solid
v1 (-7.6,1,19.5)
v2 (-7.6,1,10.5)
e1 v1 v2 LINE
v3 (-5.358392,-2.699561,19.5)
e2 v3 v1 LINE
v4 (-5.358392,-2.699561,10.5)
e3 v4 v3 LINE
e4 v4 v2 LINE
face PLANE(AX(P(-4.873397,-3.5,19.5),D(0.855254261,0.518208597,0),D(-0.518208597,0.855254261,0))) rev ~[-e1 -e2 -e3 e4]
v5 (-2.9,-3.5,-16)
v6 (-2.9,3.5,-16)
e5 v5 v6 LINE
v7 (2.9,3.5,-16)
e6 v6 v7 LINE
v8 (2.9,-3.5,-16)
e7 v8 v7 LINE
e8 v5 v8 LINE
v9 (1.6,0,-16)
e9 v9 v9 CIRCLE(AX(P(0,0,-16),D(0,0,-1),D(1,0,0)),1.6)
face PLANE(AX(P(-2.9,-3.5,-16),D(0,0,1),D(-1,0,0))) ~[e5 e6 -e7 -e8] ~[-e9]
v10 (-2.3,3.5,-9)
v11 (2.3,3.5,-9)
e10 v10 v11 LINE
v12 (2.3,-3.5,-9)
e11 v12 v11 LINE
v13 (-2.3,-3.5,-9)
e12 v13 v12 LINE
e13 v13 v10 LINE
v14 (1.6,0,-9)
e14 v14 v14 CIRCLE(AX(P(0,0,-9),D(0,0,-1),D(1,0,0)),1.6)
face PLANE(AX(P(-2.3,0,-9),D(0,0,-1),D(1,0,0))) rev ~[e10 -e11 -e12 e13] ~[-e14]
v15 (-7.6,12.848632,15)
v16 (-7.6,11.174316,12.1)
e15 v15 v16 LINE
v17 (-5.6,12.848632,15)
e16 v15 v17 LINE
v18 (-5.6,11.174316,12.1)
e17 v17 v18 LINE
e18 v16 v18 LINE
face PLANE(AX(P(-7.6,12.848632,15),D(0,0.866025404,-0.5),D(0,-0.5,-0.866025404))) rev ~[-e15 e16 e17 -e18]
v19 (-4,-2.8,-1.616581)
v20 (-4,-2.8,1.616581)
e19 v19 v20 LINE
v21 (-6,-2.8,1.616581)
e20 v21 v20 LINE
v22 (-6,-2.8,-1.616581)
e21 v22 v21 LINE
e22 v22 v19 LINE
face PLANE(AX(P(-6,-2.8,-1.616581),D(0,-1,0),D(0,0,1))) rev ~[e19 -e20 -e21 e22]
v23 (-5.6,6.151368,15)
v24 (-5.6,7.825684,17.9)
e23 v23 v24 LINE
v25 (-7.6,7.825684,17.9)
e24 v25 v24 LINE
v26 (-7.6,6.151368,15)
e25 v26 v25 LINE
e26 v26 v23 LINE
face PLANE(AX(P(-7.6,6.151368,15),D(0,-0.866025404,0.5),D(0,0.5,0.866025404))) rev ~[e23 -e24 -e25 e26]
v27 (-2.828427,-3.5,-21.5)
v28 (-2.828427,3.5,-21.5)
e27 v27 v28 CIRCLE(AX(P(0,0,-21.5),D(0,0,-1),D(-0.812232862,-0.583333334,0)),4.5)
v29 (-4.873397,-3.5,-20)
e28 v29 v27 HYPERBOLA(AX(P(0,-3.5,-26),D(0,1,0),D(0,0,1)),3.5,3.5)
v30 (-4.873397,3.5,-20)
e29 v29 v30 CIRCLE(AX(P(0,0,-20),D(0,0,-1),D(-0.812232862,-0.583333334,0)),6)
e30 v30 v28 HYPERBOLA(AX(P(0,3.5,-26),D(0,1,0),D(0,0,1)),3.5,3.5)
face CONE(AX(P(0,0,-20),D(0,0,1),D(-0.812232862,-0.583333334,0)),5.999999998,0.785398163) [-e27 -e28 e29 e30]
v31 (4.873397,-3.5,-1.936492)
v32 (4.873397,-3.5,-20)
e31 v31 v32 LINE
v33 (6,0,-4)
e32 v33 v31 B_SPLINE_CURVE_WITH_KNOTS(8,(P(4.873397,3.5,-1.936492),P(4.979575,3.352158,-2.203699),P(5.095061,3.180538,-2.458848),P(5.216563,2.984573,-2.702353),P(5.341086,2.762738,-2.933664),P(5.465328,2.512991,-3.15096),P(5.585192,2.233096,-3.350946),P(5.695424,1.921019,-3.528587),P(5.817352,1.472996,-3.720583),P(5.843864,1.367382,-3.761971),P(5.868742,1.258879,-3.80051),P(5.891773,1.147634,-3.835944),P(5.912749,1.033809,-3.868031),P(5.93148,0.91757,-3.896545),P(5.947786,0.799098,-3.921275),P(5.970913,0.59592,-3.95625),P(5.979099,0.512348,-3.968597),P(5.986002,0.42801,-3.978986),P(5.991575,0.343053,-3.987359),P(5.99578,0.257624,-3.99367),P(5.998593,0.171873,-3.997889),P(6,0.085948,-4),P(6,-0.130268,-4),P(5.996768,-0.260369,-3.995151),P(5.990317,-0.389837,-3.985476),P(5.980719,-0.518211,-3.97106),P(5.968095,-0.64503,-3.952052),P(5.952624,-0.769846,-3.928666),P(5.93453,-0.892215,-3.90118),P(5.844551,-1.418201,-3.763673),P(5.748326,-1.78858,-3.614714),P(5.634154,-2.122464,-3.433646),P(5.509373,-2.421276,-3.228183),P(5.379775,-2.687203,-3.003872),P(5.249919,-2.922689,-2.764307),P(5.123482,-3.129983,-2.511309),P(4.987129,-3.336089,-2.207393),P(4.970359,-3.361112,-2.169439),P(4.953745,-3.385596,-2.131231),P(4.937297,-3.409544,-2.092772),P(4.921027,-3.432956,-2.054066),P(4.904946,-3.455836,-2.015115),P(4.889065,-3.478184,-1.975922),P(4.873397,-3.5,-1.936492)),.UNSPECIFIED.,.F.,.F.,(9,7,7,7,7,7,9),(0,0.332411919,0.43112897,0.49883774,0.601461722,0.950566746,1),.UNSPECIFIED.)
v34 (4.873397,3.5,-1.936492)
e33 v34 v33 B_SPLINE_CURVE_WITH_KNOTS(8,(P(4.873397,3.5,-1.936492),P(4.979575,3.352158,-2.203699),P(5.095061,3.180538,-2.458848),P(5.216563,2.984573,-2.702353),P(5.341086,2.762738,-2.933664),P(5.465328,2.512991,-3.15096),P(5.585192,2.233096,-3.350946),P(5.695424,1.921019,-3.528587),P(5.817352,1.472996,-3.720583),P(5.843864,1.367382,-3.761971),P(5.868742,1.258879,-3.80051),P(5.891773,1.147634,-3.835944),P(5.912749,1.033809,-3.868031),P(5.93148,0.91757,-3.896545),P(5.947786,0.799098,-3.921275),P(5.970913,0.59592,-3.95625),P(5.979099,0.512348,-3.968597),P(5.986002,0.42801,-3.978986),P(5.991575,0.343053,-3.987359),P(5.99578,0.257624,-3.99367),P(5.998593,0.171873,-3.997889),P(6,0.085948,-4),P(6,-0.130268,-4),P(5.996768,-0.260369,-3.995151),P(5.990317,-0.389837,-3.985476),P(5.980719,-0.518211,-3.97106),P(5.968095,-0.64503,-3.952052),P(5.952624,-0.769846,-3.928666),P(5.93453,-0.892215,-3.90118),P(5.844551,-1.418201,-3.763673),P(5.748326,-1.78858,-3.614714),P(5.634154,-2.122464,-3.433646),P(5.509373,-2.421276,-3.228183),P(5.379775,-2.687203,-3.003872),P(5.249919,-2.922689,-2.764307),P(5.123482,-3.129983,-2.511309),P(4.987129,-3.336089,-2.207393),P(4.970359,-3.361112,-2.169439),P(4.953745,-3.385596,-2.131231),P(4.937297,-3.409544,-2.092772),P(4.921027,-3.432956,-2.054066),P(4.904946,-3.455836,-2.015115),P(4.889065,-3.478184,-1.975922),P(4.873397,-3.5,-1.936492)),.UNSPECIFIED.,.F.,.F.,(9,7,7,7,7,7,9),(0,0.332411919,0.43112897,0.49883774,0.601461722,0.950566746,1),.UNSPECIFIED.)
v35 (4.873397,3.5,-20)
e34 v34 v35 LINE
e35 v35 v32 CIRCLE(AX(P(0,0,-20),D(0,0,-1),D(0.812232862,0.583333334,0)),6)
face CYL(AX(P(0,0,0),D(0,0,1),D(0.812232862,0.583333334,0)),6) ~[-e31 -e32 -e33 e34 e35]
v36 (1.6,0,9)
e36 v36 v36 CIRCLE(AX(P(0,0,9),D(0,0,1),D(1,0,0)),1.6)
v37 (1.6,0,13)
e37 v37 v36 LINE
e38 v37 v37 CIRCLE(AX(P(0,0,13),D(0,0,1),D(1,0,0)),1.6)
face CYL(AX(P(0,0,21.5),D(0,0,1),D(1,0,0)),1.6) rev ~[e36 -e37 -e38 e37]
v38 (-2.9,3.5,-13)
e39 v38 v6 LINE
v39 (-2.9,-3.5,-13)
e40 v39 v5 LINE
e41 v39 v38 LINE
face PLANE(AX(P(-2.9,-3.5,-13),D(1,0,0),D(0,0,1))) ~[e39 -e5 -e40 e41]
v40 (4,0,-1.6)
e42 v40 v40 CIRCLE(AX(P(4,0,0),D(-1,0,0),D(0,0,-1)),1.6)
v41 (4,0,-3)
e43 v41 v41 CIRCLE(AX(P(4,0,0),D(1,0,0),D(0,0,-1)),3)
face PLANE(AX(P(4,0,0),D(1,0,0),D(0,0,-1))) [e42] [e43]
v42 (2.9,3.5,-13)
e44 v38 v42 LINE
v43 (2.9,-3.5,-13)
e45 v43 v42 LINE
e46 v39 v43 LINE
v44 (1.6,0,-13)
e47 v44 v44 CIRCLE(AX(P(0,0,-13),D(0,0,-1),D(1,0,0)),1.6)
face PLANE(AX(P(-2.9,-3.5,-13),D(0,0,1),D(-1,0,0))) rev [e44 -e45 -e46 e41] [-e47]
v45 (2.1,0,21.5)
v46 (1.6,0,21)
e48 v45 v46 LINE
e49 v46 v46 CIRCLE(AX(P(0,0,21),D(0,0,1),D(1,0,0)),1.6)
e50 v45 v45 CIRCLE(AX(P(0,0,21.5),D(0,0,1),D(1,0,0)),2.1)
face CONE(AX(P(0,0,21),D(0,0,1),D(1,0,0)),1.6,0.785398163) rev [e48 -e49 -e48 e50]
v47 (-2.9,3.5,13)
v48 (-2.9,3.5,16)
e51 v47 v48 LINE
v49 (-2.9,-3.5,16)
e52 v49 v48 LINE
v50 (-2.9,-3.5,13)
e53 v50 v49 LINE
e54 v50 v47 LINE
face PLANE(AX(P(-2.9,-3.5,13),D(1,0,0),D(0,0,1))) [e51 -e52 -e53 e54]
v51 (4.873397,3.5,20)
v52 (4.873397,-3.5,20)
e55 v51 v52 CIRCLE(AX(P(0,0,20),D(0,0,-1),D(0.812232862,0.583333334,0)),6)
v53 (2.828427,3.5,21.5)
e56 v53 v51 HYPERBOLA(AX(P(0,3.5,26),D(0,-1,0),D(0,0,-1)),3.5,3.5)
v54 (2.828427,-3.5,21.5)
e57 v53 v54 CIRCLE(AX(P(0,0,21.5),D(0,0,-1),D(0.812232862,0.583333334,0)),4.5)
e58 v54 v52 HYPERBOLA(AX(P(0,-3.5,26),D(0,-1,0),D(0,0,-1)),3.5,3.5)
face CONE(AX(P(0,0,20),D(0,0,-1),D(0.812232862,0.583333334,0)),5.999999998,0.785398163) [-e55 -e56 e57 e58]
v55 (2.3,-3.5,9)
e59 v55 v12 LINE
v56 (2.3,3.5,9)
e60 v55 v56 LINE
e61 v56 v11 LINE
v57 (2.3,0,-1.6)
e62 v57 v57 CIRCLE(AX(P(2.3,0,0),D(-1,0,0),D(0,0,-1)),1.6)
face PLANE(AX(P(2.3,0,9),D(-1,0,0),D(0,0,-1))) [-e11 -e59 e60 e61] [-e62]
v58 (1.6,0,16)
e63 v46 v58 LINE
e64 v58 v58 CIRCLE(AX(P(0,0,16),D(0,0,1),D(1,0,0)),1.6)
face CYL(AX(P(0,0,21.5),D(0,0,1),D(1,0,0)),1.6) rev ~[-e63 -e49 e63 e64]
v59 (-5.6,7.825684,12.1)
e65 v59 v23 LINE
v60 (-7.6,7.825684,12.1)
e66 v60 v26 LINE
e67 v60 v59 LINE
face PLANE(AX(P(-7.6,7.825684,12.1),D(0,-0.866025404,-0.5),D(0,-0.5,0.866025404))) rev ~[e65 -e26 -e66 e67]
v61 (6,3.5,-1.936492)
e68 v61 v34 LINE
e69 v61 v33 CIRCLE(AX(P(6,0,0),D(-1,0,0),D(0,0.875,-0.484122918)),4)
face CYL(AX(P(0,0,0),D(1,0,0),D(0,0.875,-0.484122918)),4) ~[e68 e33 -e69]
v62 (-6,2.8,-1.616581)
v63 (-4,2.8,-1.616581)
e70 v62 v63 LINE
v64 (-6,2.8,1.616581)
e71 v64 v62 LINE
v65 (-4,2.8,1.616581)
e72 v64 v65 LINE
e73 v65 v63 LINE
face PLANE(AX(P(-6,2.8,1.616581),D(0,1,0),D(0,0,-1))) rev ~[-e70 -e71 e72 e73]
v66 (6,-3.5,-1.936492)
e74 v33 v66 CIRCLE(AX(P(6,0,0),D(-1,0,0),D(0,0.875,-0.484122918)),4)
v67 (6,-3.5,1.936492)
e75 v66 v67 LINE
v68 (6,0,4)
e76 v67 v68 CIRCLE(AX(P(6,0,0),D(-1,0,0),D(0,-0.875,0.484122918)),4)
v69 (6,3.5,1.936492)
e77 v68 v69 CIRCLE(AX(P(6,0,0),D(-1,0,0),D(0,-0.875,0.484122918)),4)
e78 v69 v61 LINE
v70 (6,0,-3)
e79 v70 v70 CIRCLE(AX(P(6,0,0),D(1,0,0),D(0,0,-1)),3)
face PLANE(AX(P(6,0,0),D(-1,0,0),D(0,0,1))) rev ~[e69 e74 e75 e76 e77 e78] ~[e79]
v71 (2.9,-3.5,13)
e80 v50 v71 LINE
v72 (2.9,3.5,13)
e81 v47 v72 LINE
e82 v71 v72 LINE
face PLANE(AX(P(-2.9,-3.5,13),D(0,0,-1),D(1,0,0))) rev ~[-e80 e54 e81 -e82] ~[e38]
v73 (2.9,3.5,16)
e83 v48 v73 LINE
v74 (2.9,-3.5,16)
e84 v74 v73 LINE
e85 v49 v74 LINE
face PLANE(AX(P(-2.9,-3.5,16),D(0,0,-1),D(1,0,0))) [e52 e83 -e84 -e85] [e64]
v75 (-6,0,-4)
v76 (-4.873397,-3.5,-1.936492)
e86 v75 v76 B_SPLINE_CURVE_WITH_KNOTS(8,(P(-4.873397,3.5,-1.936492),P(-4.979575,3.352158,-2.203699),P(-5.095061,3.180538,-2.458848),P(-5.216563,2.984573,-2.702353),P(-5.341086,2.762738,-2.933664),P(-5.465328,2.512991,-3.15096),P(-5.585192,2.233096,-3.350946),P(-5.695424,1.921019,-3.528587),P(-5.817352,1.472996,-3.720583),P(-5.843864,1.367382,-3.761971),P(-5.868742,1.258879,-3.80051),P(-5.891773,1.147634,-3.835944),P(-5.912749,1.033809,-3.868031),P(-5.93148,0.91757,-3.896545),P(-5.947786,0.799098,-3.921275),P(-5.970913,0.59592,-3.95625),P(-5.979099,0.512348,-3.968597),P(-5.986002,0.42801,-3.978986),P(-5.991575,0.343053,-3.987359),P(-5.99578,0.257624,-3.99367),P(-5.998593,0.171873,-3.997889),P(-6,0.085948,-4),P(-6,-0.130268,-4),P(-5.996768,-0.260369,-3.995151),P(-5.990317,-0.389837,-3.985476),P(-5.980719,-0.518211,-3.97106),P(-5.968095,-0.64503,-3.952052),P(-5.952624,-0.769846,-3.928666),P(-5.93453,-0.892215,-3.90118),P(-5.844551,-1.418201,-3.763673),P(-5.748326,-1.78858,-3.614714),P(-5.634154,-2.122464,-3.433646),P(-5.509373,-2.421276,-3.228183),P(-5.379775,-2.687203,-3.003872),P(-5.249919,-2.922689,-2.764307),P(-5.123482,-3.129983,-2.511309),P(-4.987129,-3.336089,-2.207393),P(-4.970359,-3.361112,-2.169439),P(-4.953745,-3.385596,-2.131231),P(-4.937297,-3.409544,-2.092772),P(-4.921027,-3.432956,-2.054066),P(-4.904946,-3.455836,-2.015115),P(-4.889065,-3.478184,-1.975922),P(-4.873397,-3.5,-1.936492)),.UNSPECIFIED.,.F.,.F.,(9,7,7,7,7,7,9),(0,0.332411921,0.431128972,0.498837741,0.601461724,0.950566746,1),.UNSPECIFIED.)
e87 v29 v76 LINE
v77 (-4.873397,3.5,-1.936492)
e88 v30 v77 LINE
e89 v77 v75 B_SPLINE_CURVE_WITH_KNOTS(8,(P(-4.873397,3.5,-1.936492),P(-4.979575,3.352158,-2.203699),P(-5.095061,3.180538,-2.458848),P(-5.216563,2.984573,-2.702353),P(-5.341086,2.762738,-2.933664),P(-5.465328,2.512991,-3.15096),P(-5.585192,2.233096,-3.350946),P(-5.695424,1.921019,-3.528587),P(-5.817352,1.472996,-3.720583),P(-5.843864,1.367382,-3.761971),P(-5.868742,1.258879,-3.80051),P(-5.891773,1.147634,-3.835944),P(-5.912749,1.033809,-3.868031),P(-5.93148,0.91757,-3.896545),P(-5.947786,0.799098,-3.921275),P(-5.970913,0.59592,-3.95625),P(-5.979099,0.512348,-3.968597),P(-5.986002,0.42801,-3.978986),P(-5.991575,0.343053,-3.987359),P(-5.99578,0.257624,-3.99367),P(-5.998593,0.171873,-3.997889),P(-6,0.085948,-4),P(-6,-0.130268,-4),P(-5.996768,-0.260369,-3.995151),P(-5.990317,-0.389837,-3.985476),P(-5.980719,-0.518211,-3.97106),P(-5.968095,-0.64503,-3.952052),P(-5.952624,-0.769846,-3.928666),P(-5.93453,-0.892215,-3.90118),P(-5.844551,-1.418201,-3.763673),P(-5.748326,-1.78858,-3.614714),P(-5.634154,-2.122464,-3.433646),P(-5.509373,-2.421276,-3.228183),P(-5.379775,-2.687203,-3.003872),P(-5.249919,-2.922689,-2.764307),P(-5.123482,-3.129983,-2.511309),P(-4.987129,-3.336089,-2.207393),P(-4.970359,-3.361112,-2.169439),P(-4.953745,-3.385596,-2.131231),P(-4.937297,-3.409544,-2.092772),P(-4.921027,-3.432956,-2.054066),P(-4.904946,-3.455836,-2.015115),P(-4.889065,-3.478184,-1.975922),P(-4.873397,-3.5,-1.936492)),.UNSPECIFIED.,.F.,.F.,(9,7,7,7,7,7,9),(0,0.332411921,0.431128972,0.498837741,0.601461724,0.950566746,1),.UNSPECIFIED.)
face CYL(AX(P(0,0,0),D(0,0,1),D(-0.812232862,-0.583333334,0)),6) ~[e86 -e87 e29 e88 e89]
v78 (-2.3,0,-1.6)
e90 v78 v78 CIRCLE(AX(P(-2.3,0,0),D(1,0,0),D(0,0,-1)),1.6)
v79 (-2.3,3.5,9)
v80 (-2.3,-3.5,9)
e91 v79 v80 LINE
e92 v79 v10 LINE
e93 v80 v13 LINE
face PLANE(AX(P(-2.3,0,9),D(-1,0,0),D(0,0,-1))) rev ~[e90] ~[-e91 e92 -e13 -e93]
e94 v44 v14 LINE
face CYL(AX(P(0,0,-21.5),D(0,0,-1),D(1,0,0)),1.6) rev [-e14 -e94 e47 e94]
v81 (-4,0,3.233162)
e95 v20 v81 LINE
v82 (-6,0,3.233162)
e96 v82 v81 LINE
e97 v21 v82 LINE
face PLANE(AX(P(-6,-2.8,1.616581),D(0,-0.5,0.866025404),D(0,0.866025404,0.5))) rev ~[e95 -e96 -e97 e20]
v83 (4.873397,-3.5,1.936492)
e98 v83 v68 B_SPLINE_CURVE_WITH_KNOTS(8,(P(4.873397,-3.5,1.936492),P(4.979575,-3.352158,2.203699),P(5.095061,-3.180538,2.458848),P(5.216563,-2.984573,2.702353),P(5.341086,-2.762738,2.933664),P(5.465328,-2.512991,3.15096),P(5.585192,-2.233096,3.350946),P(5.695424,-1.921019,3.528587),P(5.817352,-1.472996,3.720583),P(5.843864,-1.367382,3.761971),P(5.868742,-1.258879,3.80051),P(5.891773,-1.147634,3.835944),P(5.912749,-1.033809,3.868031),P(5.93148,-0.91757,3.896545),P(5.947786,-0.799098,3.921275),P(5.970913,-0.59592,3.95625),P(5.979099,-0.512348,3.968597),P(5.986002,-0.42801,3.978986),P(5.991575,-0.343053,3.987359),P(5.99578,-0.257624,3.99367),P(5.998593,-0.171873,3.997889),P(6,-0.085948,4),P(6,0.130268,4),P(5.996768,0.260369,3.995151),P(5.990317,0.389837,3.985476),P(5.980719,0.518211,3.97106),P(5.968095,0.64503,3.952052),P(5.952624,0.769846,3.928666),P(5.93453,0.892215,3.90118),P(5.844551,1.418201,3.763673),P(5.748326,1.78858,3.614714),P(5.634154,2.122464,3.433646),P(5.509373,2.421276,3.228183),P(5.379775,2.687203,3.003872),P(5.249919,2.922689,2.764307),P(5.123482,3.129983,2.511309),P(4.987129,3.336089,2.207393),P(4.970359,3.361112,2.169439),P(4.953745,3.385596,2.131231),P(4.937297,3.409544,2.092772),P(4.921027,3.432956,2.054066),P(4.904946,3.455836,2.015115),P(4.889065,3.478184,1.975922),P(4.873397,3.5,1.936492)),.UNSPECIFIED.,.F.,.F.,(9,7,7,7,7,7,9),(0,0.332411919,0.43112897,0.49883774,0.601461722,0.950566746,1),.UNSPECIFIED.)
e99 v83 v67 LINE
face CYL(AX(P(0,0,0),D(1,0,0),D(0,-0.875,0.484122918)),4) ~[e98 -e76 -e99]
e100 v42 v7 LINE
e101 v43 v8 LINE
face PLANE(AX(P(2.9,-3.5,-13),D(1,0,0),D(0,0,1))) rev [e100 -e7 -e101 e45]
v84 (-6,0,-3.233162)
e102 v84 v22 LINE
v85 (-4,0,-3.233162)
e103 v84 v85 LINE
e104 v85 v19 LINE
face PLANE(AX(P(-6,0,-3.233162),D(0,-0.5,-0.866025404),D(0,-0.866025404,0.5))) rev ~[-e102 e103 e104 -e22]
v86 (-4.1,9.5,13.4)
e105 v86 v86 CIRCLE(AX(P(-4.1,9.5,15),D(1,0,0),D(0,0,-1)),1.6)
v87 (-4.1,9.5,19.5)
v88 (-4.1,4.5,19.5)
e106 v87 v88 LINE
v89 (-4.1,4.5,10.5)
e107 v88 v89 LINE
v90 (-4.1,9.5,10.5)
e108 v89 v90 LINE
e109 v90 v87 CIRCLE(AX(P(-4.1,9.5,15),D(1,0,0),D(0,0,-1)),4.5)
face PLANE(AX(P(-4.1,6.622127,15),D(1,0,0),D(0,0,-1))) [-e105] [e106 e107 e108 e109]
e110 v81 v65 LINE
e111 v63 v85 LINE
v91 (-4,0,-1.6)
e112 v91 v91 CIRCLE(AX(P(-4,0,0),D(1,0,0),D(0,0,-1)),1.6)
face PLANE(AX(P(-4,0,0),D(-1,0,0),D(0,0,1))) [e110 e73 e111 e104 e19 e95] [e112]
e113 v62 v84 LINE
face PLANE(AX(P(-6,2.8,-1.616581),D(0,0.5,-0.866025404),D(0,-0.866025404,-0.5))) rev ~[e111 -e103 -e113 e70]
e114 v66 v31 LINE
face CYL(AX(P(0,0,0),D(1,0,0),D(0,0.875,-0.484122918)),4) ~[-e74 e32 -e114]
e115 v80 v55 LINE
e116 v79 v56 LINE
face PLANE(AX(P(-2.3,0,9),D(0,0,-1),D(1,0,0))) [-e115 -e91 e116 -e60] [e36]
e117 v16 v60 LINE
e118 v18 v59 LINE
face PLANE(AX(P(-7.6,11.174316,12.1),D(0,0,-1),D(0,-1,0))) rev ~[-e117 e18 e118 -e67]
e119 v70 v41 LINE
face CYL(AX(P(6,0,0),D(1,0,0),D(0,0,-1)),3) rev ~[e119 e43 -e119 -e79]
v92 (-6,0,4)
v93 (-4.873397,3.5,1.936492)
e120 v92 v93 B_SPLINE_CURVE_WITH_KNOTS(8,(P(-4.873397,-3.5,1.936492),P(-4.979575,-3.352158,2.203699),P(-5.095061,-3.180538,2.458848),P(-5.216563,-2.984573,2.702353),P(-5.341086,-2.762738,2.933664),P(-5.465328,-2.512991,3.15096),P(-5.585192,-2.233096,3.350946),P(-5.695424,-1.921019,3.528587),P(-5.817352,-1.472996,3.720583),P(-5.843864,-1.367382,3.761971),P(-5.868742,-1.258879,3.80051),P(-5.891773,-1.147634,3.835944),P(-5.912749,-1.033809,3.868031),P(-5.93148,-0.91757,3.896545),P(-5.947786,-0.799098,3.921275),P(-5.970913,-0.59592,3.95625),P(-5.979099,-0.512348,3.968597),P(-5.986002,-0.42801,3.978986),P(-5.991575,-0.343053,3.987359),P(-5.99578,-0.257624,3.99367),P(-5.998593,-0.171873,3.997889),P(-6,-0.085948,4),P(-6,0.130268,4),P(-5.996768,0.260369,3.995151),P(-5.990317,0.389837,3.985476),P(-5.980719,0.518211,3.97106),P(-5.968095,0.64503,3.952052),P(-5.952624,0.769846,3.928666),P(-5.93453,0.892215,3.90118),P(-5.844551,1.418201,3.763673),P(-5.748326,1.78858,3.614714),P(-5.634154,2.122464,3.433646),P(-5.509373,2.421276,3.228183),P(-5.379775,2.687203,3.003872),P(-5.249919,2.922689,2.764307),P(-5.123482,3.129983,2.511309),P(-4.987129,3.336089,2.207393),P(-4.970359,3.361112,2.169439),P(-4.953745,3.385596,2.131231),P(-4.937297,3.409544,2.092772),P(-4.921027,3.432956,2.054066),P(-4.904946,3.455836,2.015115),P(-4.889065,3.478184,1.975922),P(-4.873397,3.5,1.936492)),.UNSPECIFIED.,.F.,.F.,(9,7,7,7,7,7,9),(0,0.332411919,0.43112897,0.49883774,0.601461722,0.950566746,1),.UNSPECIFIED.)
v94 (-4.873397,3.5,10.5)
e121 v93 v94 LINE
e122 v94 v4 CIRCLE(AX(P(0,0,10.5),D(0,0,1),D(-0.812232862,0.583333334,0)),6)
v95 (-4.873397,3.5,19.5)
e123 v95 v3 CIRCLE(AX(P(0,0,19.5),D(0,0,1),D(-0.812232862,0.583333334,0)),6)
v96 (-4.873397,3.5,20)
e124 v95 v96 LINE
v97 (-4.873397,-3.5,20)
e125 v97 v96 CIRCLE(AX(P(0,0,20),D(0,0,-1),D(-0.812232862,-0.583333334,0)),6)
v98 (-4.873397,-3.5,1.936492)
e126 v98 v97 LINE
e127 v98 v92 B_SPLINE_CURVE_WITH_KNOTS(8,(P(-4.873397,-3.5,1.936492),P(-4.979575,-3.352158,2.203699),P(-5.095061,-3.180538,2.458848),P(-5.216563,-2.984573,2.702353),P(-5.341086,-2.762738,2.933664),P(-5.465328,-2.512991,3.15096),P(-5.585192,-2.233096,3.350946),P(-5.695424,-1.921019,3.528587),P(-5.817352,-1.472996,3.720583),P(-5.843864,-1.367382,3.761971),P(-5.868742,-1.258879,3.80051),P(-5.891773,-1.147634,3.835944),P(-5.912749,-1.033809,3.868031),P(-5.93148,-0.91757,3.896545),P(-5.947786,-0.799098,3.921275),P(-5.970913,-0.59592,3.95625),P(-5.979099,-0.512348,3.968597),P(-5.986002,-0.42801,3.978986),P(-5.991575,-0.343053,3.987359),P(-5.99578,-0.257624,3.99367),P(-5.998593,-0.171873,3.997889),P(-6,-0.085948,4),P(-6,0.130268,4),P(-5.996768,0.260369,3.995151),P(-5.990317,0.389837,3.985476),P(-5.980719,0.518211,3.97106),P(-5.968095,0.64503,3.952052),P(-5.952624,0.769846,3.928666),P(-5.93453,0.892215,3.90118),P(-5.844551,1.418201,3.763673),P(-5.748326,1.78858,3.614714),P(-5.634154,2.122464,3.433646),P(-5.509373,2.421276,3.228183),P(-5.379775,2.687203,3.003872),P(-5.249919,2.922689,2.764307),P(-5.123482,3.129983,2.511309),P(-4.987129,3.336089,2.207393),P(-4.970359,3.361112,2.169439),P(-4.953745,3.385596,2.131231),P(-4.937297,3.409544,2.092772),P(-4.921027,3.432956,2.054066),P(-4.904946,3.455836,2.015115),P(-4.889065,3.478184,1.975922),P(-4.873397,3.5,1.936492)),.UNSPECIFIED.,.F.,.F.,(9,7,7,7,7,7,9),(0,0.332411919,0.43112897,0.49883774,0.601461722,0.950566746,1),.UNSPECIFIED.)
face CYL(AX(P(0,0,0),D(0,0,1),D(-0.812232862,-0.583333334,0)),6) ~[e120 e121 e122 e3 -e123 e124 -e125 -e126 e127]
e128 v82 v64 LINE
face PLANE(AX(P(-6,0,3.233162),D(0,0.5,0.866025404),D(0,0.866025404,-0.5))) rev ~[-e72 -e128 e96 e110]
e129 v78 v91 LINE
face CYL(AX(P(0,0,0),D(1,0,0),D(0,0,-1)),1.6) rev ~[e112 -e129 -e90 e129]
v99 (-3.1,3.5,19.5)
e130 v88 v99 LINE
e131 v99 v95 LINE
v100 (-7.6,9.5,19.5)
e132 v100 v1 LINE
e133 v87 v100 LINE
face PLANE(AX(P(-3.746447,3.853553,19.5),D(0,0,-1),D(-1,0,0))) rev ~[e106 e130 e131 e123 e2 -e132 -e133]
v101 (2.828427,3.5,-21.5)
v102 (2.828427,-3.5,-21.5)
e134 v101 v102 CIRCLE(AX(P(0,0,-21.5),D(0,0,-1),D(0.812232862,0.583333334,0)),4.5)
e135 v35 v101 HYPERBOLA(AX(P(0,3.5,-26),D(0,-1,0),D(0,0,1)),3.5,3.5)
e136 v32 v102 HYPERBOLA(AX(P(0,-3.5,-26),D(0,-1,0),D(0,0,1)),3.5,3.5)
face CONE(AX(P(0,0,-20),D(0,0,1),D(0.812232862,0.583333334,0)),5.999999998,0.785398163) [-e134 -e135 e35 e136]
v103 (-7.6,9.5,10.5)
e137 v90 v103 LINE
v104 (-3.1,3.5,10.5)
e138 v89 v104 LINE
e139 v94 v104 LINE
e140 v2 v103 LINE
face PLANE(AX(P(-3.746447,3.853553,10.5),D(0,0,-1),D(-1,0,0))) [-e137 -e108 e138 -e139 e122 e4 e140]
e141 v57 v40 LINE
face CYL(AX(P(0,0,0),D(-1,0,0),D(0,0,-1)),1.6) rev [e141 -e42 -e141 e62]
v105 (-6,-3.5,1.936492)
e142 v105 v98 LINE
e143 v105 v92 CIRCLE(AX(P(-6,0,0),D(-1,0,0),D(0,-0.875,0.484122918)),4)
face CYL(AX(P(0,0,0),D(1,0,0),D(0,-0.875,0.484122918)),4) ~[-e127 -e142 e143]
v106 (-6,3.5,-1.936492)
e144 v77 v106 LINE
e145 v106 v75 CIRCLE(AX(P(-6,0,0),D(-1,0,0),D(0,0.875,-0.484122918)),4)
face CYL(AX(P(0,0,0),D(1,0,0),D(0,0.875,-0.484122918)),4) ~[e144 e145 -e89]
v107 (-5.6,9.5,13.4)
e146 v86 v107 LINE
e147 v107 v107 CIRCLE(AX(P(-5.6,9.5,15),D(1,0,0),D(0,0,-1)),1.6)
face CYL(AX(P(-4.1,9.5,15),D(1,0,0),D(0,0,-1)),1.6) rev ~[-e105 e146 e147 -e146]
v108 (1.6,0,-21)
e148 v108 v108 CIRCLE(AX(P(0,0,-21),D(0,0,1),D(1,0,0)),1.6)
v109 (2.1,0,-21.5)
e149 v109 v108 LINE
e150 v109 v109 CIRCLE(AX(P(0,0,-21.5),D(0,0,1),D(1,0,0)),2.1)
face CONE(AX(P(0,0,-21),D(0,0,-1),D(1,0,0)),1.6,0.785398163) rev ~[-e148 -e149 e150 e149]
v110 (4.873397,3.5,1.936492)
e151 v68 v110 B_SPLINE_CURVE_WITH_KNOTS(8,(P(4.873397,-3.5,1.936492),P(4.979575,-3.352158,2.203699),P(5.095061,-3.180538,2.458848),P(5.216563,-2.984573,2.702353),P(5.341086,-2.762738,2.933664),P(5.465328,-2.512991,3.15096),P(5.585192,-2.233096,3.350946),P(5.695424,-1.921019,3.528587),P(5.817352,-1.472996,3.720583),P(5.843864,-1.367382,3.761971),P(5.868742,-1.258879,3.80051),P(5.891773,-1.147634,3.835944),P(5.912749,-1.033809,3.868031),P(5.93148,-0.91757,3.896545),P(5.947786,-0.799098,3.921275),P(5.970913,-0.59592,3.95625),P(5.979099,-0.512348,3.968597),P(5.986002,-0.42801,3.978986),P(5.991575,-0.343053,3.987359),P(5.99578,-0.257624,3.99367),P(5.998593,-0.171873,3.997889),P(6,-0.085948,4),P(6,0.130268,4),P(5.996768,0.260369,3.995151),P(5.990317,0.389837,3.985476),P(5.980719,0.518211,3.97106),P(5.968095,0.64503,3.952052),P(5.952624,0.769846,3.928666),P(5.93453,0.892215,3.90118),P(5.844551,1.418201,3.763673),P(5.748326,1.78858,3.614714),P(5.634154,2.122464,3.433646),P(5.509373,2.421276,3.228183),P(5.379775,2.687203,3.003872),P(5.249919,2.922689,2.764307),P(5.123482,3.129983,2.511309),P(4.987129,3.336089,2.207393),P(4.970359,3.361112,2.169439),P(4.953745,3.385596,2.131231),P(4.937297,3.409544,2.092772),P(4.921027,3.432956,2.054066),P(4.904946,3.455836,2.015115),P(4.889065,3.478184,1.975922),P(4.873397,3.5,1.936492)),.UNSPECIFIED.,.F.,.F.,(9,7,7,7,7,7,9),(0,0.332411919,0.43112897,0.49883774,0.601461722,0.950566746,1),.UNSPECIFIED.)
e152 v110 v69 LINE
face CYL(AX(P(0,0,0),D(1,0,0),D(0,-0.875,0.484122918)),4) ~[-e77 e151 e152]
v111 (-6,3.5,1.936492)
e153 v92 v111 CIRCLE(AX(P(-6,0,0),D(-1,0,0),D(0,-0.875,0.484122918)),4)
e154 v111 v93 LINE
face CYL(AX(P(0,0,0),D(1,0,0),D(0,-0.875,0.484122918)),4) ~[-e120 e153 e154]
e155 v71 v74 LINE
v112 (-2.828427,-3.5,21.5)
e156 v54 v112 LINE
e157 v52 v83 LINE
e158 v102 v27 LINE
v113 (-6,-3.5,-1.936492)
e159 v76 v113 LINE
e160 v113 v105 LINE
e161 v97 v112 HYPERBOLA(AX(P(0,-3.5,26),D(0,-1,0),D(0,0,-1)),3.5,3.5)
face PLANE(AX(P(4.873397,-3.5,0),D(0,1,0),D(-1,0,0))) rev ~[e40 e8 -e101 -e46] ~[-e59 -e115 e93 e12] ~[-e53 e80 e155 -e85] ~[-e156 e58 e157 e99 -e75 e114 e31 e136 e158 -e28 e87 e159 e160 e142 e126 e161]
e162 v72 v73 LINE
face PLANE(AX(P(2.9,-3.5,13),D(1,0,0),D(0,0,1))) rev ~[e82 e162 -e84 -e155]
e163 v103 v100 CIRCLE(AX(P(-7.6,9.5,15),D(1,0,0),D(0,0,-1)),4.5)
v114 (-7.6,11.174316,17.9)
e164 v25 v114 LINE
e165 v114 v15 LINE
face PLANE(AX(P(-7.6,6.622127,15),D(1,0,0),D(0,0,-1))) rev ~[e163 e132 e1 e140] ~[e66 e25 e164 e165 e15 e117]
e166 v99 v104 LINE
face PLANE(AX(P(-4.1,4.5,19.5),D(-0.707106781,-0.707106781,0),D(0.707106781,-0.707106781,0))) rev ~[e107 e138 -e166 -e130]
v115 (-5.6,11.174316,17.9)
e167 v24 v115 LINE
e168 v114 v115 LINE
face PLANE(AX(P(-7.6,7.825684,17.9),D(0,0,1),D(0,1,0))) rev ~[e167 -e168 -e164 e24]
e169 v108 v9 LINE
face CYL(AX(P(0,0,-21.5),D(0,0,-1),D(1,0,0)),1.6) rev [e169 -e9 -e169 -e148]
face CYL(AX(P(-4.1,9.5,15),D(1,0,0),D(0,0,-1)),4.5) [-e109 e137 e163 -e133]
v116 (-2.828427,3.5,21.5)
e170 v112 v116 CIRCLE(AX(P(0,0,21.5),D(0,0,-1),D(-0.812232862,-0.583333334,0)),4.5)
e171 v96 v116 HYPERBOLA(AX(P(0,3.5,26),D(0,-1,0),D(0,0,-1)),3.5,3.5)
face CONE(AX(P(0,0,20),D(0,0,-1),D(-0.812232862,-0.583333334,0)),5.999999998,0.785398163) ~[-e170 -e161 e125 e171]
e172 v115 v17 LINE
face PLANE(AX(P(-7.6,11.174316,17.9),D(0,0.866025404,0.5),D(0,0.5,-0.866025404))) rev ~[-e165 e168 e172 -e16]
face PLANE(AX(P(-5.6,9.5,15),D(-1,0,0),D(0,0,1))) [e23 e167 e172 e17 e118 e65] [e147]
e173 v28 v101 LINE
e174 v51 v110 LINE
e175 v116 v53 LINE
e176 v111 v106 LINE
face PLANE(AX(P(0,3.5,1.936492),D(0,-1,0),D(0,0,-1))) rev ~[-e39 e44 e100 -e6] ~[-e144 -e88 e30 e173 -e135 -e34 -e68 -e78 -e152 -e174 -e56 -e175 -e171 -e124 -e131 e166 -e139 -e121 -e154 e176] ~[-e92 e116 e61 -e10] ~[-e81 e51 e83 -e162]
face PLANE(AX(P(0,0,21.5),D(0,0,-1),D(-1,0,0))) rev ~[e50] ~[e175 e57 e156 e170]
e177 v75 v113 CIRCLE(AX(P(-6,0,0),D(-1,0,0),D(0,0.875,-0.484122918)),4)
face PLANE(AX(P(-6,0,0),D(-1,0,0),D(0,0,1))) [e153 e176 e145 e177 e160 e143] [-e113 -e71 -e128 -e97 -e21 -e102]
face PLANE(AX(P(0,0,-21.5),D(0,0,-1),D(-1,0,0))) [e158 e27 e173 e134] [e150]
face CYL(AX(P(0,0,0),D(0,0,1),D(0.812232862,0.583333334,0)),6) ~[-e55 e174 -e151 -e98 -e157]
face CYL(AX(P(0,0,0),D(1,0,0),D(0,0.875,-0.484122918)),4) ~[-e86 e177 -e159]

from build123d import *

# Parameters (mm, degrees)
BOSS_EXTRUDE1_DEPTH     = 21.5
BOSS_EXTRUDE2_DEPTH     = 6
CHAMFER1_SIZE           = 1.5
SKETCH2_W               = 4.6
SKETCH2_H               = 18
CUT_EXTRUDE1_DEPTH      = 4.5000001
CUT_EXTRUDE1_DEPTH_BACK = 4.5000001
SKETCH3_R               = 1.6
CUT_EXTRUDE2_DEPTH      = 16
CHAMFER2_SIZE           = 0.5
SKETCH4_R               = 1.6
CUT_EXTRUDE3_DEPTH      = 7.0000001
CUT_EXTRUDE3_DEPTH_BACK = 7.0000001
SKETCH6_R               = 3
CUT_EXTRUDE4_DEPTH      = 2
CUT_EXTRUDE5_DEPTH      = 2
BOSS_EXTRUDE3_START     = -4.1
SKETCH8_R               = 1.6
BOSS_EXTRUDE3_DEPTH     = 3.5
BOSS_EXTRUDE4_DEPTH     = 9
BOSS_EXTRUDE5_DEPTH     = 9
CUT_EXTRUDE6_DEPTH      = 2
SKETCH13_W              = 5.8
SKETCH13_H              = 3
CUT_EXTRUDE8_DEPTH      = 18.5


with BuildPart() as part:
    # Sketch1 → Boss-Extrude1 (new body, symmetric)
    with BuildSketch(Plane.XY):
        with BuildLine():
            Line((-4.873397172, 3.5), (4.873397172, 3.5))
            ThreePointArc((4.873397172, 3.5), (6, 0), (4.873397172, -3.5))
            Line((4.873397172, -3.5), (-4.873397172, -3.5))
            ThreePointArc((-4.873397172, -3.5), (-6, 0), (-4.873397172, 3.5))
        make_face()
    extrude(amount=BOSS_EXTRUDE1_DEPTH, both=True)

    # Sketch5 → Boss-Extrude2 (add, symmetric)
    with BuildSketch(Plane(origin=(0, 0, 0), x_dir=(0, 0, -1), z_dir=(1, 0, 0))):
        with BuildLine():
            Line((-1.936491673, 3.5), (1.936491673, 3.5))
            ThreePointArc((1.936491673, 3.5), (4, 0), (1.936491673, -3.5))
            Line((1.936491673, -3.5), (-1.936491673, -3.5))
            ThreePointArc((-1.936491673, -3.5), (-4, 0), (-1.936491673, 3.5))
        make_face()
    extrude(amount=BOSS_EXTRUDE2_DEPTH, both=True)

    # Chamfer1
    chamfer1_edges = [part.edges().sort_by_distance(p)[0] for p in [
        (-6, 0, 21.5),
        (6, 0, 21.5),
        (-6, 0, -21.5),
        (6, 0, -21.5),
    ]]
    chamfer(chamfer1_edges, length=CHAMFER1_SIZE)

    # Sketch2 → Cut-Extrude1 (cut, two sides)
    with BuildSketch(Plane(origin=(0, 0, 0), x_dir=(1, 0, 0), z_dir=(0, 1, 0))) as cut_extrude1_sk:
        Rectangle(SKETCH2_W, SKETCH2_H)
    extrude(amount=CUT_EXTRUDE1_DEPTH, mode=Mode.SUBTRACT)
    extrude(cut_extrude1_sk.sketch, amount=-CUT_EXTRUDE1_DEPTH_BACK, mode=Mode.SUBTRACT)

    # Sketch3 → Cut-Extrude2 (cut)
    with BuildSketch(Plane.XY.offset(21.5)):
        Circle(SKETCH3_R)
    cut_extrude2 = extrude(amount=-CUT_EXTRUDE2_DEPTH, mode=Mode.SUBTRACT)

    # Mirror2: Cut-Extrude2 across plane
    add(cut_extrude2.mirror(Plane.XY), mode=Mode.SUBTRACT)

    # Chamfer2
    chamfer2_edges = [part.edges().sort_by_distance(p)[0] for p in [
        (-1.6, 0, 21.5),
        (-1.6, 0, -21.5),
    ]]
    chamfer(chamfer2_edges, length=CHAMFER2_SIZE)

    # Sketch4 → Cut-Extrude3 (cut, two sides)
    with BuildSketch(Plane(origin=(0, 0, 0), x_dir=(0, 0, -1), z_dir=(1, 0, 0))) as cut_extrude3_sk:
        Circle(SKETCH4_R)
    extrude(amount=CUT_EXTRUDE3_DEPTH, mode=Mode.SUBTRACT)
    extrude(cut_extrude3_sk.sketch, amount=-CUT_EXTRUDE3_DEPTH_BACK, mode=Mode.SUBTRACT)

    # Sketch6 → Cut-Extrude4 (cut)
    with BuildSketch(Plane(origin=(6, 0, 0), x_dir=(0, 0, -1), z_dir=(1, 0, 0))):
        Circle(SKETCH6_R)
    extrude(amount=-CUT_EXTRUDE4_DEPTH, mode=Mode.SUBTRACT)

    # Sketch7 → Cut-Extrude5 (cut)
    with BuildSketch(Plane.ZY.offset(6)):
        Polygon((3.233161507, 0), (1.616580754, 2.8), (-1.616580754, 2.8), (-3.233161507, 0), (-1.616580754, -2.8), (1.616580754, -2.8), align=None)
    extrude(amount=-CUT_EXTRUDE5_DEPTH, mode=Mode.SUBTRACT)

    # Sketch8 → Boss-Extrude3 (add)
    with BuildSketch(Plane(origin=(0, 0, 0), x_dir=(0, 0, -1), z_dir=(1, 0, 0)).offset(BOSS_EXTRUDE3_START)):
        with BuildLine():
            Line((-19.5, 9.5), (-19.5, 1))
            Line((-19.5, 1), (-10.5, 1))
            Line((-10.5, 1), (-10.5, 9.5))
            ThreePointArc((-10.5, 9.5), (-15, 14), (-19.5, 9.5))
        make_face()
        with Locations((-15, 9.5)):
            Circle(SKETCH8_R, mode=Mode.SUBTRACT)
    extrude(amount=-BOSS_EXTRUDE3_DEPTH)

    # Sketch9 → Boss-Extrude4 (add)
    with BuildSketch(Plane.XY.offset(19.5)):
        Polygon((-7.6, 1), (-4.1, 1), (-4.873397172, -3.5), align=None)
    extrude(amount=-BOSS_EXTRUDE4_DEPTH)

    # Sketch10 → Boss-Extrude5 (add)
    with BuildSketch(Plane.XY.offset(19.5)):
        Polygon((-4.1, 4.5), (-3.1, 3.5), (-4.1, 3.5), align=None)
    extrude(amount=-BOSS_EXTRUDE5_DEPTH)

    # Sketch11 → Cut-Extrude6 (cut)
    with BuildSketch(Plane.ZY.offset(7.6)):
        Polygon((15, 6.151368439), (17.9, 7.825684219), (17.9, 11.174315781), (15, 12.848631561), (12.1, 11.174315781), (12.1, 7.825684219), align=None)
    extrude(amount=-CUT_EXTRUDE6_DEPTH, mode=Mode.SUBTRACT)

    # Sketch13 → Cut-Extrude8 (cut, through all)
    with BuildSketch(Plane.XZ.offset(3.5)):
        with Locations((0, 14.5)):
            Rectangle(SKETCH13_W, SKETCH13_H)
    cut_extrude8 = extrude(amount=-CUT_EXTRUDE8_DEPTH, mode=Mode.SUBTRACT)

    # Mirror4: Cut-Extrude8 across plane
    add(cut_extrude8.mirror(Plane.XY), mode=Mode.SUBTRACT)


solid = part.part
